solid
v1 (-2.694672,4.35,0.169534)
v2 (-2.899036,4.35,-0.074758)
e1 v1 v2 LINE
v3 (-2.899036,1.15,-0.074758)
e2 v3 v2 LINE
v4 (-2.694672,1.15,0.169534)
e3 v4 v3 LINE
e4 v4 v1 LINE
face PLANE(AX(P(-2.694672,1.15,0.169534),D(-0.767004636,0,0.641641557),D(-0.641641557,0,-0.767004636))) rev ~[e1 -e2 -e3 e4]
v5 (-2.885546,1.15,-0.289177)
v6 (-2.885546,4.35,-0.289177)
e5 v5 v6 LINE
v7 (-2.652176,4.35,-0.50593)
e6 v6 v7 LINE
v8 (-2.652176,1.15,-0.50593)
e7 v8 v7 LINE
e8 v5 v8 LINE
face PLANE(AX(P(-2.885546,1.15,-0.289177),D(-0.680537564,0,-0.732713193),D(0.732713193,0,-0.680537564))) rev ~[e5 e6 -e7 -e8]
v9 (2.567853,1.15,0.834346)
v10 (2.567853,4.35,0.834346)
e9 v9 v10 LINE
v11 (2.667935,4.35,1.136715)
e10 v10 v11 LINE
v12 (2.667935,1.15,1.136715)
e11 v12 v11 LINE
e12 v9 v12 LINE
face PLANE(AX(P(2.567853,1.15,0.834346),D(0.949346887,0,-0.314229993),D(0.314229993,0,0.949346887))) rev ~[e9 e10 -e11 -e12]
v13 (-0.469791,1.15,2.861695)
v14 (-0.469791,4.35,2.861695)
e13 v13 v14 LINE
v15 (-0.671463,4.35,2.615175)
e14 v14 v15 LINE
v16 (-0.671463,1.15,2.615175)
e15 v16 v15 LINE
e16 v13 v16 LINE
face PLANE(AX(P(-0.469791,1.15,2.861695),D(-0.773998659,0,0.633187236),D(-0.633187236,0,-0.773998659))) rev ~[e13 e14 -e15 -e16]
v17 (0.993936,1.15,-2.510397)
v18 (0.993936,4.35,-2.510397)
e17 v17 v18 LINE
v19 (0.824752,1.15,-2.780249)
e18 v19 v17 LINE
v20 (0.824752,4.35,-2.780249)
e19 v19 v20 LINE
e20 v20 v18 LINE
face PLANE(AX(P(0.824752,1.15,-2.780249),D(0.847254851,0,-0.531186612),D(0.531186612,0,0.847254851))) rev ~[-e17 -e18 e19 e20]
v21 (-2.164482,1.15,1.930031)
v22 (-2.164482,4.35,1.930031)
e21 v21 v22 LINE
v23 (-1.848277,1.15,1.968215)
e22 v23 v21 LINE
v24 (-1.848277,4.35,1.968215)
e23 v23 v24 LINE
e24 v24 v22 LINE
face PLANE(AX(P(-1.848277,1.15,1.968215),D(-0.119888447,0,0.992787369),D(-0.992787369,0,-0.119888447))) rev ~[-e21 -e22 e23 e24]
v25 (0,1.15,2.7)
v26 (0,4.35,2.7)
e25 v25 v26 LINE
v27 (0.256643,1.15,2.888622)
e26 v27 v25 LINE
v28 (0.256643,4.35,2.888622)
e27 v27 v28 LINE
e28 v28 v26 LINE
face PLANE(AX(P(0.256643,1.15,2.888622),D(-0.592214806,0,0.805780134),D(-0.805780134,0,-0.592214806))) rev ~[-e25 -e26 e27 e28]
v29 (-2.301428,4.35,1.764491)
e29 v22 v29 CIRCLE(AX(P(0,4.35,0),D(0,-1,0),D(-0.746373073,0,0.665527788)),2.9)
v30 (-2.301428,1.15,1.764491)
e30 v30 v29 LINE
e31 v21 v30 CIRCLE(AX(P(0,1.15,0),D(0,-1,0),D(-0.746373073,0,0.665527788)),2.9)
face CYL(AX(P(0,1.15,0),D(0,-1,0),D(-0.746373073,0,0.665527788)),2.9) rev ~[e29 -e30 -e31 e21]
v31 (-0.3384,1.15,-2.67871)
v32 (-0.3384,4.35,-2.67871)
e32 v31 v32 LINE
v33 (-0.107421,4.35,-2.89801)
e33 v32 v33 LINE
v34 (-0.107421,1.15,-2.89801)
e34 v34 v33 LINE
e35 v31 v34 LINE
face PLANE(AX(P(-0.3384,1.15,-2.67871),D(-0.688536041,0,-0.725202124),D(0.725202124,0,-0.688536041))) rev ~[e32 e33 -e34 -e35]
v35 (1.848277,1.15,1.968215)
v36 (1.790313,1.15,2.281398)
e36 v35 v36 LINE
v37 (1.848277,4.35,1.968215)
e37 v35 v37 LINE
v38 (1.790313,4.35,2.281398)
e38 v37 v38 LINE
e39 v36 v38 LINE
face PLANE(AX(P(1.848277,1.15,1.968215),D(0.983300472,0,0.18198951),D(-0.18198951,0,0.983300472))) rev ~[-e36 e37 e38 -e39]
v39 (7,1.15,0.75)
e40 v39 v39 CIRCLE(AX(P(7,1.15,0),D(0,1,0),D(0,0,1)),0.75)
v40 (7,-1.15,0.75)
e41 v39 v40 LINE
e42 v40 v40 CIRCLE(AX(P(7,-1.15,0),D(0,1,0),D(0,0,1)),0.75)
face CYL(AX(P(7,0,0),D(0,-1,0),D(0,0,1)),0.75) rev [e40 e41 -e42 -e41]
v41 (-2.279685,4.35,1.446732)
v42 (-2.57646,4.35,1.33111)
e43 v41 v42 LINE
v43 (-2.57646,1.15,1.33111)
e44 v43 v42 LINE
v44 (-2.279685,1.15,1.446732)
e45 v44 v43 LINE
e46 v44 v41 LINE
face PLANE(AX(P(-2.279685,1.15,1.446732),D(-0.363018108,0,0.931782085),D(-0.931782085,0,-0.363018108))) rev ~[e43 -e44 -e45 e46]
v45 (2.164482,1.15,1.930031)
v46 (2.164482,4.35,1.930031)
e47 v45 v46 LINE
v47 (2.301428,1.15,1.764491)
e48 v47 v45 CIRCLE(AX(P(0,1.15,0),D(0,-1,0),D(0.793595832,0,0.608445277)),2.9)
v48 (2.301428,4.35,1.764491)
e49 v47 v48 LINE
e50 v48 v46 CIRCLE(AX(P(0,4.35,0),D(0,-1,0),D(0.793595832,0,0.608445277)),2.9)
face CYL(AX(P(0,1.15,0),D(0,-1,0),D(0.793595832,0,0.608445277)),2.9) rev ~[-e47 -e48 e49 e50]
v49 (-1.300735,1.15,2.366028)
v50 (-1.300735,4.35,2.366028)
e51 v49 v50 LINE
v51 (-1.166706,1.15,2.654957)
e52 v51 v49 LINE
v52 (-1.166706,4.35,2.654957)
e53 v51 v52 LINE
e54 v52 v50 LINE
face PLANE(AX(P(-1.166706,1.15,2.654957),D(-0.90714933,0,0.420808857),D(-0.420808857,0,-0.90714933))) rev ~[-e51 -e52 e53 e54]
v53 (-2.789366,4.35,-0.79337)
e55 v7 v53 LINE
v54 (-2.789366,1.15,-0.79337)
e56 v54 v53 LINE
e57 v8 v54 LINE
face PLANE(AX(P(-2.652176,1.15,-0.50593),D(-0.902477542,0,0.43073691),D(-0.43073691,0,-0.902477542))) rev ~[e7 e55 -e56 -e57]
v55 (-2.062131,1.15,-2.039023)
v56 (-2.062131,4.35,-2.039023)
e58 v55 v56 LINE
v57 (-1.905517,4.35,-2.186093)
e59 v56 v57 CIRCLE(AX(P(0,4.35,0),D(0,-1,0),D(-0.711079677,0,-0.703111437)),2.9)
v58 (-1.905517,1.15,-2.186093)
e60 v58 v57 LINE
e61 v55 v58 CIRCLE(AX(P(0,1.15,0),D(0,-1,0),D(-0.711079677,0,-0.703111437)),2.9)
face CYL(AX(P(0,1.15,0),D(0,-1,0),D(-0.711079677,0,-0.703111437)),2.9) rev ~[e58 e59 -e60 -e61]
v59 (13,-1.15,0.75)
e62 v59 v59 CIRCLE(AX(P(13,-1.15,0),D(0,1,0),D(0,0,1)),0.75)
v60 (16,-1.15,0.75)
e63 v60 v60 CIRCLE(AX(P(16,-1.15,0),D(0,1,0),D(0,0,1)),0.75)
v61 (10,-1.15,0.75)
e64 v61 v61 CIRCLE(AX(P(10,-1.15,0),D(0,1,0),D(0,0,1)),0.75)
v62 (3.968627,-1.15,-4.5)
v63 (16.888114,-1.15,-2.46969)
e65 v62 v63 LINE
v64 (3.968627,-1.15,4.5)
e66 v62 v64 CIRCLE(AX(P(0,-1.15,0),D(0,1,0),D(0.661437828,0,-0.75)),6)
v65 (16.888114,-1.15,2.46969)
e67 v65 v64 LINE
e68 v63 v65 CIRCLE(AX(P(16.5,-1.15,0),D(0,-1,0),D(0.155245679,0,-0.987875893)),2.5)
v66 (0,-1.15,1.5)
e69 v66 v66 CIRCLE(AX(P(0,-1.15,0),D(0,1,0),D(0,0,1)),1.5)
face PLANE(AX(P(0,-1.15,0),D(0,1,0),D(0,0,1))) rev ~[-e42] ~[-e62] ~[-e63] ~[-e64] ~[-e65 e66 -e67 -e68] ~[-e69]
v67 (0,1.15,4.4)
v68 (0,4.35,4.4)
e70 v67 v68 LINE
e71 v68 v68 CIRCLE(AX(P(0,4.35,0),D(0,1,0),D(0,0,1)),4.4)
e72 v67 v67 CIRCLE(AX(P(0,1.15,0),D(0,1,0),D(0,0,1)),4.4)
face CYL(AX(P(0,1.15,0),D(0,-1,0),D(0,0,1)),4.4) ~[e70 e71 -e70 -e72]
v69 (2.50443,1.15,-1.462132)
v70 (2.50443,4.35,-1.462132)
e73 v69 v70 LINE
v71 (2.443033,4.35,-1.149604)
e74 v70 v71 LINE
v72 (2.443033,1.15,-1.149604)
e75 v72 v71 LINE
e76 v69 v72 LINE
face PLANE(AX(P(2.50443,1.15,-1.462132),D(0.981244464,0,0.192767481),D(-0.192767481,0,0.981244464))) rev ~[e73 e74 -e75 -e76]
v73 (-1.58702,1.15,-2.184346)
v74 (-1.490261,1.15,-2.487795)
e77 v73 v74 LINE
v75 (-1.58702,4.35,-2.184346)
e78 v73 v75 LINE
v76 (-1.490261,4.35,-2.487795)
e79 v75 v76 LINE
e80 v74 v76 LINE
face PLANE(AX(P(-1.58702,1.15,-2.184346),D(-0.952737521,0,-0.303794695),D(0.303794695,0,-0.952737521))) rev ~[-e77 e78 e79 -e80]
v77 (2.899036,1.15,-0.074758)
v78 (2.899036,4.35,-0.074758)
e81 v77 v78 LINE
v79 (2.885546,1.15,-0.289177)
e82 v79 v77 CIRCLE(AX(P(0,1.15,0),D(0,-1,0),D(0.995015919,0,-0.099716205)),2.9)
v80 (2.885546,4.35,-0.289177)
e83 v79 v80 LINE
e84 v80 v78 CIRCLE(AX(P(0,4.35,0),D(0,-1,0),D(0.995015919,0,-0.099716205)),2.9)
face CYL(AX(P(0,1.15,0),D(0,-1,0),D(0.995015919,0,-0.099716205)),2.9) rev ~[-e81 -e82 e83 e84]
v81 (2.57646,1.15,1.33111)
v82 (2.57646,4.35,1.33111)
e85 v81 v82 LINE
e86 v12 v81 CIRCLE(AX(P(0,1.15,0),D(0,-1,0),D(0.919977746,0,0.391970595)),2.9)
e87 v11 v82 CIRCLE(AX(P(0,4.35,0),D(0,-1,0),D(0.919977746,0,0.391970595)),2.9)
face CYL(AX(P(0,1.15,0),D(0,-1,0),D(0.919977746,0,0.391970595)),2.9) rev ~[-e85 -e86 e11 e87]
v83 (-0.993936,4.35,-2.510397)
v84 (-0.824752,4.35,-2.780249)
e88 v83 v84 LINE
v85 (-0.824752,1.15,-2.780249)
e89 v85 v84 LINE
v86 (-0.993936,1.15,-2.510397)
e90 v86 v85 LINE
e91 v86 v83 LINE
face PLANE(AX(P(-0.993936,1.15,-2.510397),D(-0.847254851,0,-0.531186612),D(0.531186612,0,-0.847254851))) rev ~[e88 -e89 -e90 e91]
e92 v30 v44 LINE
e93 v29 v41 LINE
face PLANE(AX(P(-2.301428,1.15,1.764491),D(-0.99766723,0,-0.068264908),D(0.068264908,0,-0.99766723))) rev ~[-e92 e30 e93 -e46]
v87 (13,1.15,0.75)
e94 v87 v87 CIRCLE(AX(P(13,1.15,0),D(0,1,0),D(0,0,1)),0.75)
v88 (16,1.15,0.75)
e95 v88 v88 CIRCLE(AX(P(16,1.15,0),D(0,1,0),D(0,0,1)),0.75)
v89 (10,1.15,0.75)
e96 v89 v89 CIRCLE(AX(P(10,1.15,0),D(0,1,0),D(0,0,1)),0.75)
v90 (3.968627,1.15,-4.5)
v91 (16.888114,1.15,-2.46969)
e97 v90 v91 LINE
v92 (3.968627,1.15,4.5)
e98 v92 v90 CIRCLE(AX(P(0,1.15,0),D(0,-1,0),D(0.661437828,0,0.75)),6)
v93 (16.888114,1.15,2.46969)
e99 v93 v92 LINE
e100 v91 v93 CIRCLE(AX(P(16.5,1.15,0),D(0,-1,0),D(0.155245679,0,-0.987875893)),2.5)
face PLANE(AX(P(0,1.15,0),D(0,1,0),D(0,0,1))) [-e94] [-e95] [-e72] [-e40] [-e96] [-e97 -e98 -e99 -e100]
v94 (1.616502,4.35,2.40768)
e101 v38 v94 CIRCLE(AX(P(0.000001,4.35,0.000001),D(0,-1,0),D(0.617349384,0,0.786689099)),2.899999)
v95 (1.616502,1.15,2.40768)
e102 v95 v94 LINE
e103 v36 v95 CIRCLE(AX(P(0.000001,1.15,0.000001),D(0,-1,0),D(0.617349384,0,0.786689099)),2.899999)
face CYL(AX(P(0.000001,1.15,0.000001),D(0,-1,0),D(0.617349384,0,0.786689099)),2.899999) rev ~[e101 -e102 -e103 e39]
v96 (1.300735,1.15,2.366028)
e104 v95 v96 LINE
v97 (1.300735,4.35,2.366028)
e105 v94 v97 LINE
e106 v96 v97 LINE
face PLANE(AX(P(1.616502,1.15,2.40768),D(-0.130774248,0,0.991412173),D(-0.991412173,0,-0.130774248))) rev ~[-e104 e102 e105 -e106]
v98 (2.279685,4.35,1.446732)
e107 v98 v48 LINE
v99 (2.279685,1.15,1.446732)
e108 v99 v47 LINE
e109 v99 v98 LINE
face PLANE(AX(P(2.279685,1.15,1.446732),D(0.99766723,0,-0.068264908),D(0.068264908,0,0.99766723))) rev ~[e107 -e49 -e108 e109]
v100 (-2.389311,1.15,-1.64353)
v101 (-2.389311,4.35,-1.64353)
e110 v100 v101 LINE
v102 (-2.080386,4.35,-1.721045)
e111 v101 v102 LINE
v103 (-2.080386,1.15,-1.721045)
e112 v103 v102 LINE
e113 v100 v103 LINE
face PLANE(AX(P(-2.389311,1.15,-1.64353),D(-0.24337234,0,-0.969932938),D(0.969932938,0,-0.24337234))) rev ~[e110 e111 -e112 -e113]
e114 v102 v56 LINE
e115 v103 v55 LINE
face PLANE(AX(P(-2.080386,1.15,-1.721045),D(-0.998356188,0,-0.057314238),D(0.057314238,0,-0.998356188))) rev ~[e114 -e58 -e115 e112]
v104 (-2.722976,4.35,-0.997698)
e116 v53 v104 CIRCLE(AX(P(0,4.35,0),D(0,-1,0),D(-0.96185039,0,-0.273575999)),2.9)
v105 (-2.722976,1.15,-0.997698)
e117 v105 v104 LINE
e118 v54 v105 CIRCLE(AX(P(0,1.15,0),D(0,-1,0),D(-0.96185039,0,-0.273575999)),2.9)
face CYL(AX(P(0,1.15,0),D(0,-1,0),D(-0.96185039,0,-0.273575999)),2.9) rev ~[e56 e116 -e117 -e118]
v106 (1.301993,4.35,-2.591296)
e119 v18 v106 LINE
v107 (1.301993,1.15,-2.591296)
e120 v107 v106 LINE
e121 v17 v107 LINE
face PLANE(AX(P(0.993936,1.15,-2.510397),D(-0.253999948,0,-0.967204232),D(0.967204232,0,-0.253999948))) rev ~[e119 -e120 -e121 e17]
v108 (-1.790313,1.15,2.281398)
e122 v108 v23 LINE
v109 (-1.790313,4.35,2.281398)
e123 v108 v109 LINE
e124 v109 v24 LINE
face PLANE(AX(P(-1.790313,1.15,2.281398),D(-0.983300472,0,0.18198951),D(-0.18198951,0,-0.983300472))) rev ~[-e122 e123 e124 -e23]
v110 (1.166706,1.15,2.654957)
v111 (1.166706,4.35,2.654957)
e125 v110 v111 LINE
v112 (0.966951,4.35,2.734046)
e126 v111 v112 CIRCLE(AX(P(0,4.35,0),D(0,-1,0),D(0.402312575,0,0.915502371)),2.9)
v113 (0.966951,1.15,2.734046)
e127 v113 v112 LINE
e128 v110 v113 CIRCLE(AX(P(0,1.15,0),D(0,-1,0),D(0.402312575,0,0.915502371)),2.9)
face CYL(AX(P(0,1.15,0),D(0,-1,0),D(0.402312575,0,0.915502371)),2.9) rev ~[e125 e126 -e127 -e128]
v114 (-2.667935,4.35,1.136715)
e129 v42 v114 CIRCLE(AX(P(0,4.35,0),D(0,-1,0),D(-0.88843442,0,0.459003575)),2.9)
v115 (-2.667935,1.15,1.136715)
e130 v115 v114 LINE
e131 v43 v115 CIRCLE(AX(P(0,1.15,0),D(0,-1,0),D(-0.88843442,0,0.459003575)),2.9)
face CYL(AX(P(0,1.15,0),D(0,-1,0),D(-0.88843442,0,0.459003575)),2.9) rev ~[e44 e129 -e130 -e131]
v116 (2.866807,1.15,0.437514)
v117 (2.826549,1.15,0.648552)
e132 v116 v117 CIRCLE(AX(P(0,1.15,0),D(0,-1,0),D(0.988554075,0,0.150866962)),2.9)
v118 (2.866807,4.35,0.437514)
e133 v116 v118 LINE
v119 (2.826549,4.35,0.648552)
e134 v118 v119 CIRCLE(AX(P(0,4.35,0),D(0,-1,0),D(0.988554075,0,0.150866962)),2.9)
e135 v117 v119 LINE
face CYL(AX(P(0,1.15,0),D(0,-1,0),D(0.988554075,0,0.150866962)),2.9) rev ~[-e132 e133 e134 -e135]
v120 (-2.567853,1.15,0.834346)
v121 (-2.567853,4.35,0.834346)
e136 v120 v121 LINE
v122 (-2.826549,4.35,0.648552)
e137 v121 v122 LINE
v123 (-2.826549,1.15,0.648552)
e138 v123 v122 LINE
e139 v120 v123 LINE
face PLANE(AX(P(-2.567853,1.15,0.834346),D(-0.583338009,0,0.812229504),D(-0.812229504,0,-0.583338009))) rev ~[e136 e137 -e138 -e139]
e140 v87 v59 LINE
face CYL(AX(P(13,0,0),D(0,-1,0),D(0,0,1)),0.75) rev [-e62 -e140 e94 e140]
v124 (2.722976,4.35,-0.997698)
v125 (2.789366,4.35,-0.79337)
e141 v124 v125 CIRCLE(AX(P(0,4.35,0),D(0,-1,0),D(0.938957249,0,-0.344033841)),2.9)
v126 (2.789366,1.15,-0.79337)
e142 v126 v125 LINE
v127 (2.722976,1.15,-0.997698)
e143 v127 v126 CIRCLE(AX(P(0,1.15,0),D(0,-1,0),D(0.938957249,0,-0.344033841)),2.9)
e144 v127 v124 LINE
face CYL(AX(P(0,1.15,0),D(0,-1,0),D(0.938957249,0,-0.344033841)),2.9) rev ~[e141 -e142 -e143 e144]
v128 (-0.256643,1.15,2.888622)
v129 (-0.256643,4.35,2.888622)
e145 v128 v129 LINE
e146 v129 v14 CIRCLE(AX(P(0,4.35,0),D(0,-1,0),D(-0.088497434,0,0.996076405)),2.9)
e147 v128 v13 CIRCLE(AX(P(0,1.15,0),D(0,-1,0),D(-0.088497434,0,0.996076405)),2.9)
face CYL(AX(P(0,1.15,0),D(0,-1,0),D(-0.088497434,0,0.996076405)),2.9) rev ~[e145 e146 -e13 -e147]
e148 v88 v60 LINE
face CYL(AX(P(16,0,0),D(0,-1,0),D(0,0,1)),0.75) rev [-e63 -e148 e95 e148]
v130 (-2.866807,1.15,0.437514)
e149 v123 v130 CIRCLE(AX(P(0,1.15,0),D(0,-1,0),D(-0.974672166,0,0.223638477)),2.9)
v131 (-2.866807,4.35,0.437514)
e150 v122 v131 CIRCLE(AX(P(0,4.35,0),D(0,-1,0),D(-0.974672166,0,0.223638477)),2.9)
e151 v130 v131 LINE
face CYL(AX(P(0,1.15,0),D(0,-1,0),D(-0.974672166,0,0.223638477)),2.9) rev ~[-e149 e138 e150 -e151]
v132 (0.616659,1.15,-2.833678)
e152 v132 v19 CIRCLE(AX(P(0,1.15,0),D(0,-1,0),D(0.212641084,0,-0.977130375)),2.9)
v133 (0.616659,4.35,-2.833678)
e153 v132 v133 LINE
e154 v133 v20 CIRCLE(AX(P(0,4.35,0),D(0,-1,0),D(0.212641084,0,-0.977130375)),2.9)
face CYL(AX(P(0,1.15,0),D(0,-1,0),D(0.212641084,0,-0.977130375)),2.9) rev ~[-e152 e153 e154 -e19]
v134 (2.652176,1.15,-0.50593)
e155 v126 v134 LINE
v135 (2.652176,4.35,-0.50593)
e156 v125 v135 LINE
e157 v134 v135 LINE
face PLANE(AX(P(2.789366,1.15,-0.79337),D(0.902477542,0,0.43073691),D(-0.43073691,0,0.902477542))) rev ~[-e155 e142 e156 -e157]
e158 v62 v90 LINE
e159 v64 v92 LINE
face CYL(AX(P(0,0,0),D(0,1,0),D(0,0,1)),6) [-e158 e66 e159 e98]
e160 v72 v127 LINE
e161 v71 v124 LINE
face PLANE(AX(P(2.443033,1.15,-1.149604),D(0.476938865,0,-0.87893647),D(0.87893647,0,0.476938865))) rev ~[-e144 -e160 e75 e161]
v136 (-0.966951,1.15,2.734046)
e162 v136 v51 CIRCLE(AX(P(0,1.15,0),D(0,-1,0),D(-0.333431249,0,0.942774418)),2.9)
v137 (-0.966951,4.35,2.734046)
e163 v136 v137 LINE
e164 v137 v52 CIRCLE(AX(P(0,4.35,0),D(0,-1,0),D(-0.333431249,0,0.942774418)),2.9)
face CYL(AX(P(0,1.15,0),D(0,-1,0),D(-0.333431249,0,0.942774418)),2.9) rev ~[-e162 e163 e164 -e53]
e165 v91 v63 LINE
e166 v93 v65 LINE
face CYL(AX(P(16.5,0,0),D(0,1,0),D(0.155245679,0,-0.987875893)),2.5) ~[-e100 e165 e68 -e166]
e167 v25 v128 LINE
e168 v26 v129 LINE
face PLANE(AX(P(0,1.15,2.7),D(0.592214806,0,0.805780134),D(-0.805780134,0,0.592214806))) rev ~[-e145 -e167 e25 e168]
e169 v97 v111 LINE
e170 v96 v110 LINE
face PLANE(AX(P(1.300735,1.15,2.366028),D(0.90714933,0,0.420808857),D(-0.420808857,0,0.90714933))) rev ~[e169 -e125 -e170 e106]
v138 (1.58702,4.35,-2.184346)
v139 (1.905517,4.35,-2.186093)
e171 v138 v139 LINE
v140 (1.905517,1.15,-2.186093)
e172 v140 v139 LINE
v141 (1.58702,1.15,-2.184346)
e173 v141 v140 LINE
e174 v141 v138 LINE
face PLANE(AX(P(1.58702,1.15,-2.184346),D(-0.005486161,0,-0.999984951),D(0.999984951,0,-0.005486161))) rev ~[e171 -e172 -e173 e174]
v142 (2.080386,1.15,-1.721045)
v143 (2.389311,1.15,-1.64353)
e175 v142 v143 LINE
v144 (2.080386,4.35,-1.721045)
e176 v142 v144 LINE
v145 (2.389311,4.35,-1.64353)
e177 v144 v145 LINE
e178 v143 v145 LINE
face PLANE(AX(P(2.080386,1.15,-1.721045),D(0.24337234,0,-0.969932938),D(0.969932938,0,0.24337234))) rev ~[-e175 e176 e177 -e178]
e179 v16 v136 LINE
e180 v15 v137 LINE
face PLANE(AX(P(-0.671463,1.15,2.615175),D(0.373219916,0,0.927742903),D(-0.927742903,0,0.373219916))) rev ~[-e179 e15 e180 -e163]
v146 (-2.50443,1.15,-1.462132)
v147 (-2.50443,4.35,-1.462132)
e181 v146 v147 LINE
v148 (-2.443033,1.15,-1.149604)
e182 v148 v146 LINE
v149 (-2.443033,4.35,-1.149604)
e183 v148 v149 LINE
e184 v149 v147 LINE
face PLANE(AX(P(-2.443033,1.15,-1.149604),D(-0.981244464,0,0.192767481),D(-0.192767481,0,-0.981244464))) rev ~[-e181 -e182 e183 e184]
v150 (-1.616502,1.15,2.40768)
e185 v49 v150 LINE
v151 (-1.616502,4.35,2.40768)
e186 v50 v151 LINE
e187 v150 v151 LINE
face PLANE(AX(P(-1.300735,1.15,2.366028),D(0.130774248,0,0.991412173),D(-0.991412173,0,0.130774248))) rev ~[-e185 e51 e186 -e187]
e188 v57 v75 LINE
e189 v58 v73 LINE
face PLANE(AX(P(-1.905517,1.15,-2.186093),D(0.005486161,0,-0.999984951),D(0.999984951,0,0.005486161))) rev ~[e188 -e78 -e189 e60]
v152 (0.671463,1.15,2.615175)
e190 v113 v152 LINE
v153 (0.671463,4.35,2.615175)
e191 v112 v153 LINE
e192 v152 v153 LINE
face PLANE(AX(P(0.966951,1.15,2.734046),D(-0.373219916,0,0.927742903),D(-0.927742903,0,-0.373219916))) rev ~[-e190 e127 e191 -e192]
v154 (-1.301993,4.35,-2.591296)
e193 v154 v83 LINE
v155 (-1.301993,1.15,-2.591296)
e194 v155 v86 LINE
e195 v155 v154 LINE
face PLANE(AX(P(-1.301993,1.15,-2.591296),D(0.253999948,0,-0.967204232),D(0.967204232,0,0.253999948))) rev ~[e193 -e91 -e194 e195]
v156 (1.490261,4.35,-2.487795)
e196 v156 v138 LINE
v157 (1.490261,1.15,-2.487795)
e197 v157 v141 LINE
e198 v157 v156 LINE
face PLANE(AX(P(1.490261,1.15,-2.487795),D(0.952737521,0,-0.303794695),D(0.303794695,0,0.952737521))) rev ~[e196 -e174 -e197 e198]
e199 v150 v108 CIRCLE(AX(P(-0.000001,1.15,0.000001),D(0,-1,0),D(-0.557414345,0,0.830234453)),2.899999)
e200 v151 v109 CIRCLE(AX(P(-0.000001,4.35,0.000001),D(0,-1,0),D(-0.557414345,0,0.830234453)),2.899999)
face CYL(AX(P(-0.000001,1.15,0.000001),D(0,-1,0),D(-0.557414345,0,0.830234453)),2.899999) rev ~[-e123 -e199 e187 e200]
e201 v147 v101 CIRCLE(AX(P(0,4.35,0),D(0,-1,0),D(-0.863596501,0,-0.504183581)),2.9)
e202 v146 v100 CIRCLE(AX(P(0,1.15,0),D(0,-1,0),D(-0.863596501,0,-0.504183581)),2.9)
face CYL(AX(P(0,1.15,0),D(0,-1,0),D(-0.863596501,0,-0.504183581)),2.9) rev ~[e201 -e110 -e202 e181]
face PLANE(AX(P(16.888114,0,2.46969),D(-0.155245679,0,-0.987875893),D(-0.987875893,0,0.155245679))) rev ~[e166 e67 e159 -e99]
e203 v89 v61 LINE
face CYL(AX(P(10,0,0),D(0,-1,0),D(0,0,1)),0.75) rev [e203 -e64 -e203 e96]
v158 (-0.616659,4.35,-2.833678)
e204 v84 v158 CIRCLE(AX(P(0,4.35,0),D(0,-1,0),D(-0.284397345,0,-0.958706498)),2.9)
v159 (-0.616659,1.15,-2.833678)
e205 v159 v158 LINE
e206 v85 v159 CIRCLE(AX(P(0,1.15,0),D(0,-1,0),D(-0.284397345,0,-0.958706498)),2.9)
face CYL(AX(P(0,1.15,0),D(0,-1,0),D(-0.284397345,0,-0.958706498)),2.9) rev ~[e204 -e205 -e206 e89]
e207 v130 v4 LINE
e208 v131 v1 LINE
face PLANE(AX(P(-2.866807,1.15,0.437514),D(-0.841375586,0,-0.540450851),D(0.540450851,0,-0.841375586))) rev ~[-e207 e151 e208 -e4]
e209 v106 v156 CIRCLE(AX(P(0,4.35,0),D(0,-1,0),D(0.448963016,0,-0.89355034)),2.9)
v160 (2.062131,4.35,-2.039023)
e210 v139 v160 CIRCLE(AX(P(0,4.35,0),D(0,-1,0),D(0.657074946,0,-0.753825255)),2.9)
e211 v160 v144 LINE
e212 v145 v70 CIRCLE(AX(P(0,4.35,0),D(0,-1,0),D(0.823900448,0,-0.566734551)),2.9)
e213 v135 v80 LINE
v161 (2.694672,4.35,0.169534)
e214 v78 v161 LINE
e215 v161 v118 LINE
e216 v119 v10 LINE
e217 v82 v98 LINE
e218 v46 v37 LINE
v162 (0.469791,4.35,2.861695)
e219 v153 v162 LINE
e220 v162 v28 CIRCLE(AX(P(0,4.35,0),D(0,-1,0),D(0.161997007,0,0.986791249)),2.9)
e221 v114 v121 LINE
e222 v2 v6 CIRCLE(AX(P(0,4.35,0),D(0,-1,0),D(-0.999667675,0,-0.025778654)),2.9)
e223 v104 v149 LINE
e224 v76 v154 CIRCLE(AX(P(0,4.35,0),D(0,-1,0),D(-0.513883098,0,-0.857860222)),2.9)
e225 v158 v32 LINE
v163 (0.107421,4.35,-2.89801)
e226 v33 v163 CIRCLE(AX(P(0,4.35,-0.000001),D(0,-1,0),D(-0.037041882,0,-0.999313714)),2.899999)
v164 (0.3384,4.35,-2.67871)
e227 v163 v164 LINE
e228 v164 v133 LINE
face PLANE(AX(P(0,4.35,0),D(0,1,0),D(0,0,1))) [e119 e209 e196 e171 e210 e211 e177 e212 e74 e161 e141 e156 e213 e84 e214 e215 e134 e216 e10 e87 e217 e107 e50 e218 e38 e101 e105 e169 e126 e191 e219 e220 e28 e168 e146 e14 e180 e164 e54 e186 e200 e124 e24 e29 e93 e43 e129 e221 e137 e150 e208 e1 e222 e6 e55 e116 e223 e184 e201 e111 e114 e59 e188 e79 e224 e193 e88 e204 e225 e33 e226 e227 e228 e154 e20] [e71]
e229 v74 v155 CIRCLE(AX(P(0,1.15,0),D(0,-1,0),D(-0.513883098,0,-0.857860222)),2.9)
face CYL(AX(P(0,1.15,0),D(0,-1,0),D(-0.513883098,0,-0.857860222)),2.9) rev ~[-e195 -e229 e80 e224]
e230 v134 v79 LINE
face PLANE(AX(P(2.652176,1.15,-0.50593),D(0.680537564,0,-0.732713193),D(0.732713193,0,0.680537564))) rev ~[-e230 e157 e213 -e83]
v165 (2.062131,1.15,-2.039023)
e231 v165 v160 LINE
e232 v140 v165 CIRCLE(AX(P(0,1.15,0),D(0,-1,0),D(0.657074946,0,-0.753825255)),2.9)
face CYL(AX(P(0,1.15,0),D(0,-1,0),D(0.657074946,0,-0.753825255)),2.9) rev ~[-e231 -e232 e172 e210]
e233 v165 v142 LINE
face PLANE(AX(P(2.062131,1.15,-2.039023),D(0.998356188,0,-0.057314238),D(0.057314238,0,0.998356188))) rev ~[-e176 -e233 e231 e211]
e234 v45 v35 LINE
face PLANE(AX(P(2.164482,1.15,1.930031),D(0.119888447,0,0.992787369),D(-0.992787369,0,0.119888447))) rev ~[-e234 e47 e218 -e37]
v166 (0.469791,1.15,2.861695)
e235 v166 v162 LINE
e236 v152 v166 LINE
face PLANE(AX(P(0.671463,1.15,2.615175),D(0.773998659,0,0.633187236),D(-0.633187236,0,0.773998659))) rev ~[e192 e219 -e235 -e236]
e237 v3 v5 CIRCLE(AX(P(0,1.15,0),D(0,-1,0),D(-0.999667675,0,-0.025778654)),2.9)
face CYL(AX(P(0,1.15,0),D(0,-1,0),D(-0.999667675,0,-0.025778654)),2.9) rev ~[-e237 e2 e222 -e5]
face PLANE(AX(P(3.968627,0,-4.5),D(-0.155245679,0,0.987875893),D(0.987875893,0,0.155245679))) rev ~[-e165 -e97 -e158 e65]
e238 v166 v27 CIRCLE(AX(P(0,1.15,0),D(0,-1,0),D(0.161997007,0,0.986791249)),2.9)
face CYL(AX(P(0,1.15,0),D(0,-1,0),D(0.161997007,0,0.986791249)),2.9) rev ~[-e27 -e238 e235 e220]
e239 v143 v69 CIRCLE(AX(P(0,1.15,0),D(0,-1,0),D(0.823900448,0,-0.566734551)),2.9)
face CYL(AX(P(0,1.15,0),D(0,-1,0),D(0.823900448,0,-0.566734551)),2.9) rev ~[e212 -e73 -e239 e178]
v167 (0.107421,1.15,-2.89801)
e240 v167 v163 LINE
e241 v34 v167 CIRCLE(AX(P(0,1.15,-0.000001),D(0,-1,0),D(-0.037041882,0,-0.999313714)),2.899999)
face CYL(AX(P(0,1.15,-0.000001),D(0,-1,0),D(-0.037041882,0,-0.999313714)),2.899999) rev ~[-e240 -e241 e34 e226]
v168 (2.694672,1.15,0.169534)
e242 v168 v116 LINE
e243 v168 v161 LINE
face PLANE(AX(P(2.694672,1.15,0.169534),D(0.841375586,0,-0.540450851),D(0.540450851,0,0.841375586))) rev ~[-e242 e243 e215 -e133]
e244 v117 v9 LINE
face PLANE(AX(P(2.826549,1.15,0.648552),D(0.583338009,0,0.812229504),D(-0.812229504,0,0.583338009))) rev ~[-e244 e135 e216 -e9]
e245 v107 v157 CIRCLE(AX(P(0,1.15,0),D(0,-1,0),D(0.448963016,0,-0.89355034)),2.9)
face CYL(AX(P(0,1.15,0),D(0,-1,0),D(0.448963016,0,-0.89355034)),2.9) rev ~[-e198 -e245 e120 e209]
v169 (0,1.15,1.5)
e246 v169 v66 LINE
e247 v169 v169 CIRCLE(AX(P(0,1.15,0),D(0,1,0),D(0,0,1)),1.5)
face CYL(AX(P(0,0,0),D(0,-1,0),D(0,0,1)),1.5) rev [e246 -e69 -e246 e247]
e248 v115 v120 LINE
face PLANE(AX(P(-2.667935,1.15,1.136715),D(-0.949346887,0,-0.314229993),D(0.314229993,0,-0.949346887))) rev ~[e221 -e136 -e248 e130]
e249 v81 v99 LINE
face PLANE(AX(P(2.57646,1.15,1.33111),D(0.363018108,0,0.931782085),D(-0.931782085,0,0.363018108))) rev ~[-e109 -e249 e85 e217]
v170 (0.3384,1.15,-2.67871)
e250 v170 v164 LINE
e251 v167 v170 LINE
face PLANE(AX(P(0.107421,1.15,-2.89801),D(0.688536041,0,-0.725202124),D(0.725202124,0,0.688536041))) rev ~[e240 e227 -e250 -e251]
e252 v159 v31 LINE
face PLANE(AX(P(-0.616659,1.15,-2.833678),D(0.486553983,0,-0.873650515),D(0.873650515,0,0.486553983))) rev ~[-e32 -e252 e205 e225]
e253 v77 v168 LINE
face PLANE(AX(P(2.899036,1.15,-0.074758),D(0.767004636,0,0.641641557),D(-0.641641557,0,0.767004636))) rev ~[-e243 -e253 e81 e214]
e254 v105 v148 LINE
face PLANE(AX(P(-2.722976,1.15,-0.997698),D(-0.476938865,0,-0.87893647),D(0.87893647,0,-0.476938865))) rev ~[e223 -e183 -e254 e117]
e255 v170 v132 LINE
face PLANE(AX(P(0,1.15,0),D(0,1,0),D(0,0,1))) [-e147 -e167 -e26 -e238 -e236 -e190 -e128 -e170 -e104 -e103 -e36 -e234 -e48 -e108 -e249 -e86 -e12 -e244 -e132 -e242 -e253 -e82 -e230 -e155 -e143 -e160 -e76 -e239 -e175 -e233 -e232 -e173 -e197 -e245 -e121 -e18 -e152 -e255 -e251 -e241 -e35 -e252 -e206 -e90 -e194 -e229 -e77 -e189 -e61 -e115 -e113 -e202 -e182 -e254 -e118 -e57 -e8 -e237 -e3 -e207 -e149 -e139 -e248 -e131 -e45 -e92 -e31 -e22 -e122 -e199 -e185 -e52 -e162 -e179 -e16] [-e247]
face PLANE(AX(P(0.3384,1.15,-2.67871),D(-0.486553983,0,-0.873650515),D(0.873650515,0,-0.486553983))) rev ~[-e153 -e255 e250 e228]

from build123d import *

# Parameters (mm, degrees)
SKETCH2_R           = 6
SKETCH2_R_2         = 1.5
BOSS_EXTRUDE1_DEPTH = 1.15
SKETCH3_R           = 4.4
BOSS_EXTRUDE2_DEPTH = 3.2
SKETCH4_R           = 0.75
BOSS_EXTRUDE3_DEPTH = 1.15


with BuildPart() as part:
    # Sketch2 → Boss-Extrude1 (new, symmetric)
    with BuildSketch(Plane(origin=(0, 0, 0), x_dir=(1, 0, 0), z_dir=(0, 1, 0))):
        with Locations(Location((0, 0, 0), (0, 0, 270))):
            Circle(SKETCH2_R)
        with Locations(Location((0, 0, 0), (0, 0, 270))):
            Circle(SKETCH2_R_2, mode=Mode.SUBTRACT)
    extrude(amount=BOSS_EXTRUDE1_DEPTH, both=True)

    # Sketch3 → Boss-Extrude2 (add)
    with BuildSketch(Plane(origin=(0, 1.15, 0), x_dir=(1, 0, 0), z_dir=(0, 1, 0))):
        with Locations(Location((0, 0, 0), (0, 0, 270))):
            Circle(SKETCH3_R)
        with BuildLine():
            Line((0.107421435, 2.898009771), (0.338399731, 2.678709694))
            Line((0.338399731, 2.678709694), (0.61665913, 2.83367809))
            ThreePointArc((0.61665913, 2.83367809), (0.721200673, 2.808891167), (0.824752316, 2.780248841))
            Line((0.824752316, 2.780248841), (0.993936292, 2.510396512))
            Line((0.993936292, 2.510396512), (1.301992734, 2.591295993))
            ThreePointArc((1.301992734, 2.591295993), (1.397085655, 2.541289372), (1.490260976, 2.48779465))
            Line((1.490260976, 2.48779465), (1.587020181, 2.184345885))
            Line((1.587020181, 2.184345885), (1.905517346, 2.186093238))
            ThreePointArc((1.905517346, 2.186093238), (1.985186607, 2.11400902), (2.062131058, 2.039023173))
            Line((2.062131058, 2.039023173), (2.080385755, 1.721044772))
            Line((2.080385755, 1.721044772), (2.389311295, 1.643530205))
            ThreePointArc((2.389311295, 1.643530205), (2.448550984, 1.553897705), (2.504429862, 1.46213237))
            Line((2.504429862, 1.46213237), (2.443033042, 1.149604087))
            Line((2.443033042, 1.149604087), (2.722976028, 0.997698125))
            ThreePointArc((2.722976028, 0.997698125), (2.758063897, 0.896149284), (2.789366126, 0.793370413))
            Line((2.789366126, 0.793370413), (2.652175577, 0.505929549))
            Line((2.652175577, 0.505929549), (2.885546163, 0.289177003))
            ThreePointArc((2.885546163, 0.289177003), (2.894277512, 0.182092507), (2.899036259, 0.074758075))
            Line((2.899036259, 0.074758075), (2.694672167, -0.169534403))
            Line((2.694672167, -0.169534403), (2.866806821, -0.437514174))
            ThreePointArc((2.866806821, -0.437514174), (2.848633027, -0.543405812), (2.826549281, -0.648551587))
            Line((2.826549281, -0.648551587), (2.567852594, -0.834345885))
            Line((2.567852594, -0.834345885), (2.667935462, -1.136714727))
            ThreePointArc((2.667935462, -1.136714727), (2.623998452, -1.234759946), (2.576459817, -1.331110368))
            Line((2.576459817, -1.331110368), (2.279685399, -1.446732346))
            Line((2.279685399, -1.446732346), (2.301427906, -1.764491312))
            ThreePointArc((2.301427906, -1.764491312), (2.234488404, -1.84852957), (2.164481907, -1.930030589))
            Line((2.164481907, -1.930030589), (1.848277186, -1.968215294))
            Line((1.848277186, -1.968215294), (1.790313171, -2.281398419))
            ThreePointArc((1.790313171, -2.281398419), (1.704577232, -2.346149284), (1.616501638, -2.40767989))
            Line((1.616501638, -2.40767989), (1.30073492, -2.366028036))
            Line((1.30073492, -2.366028036), (1.166706475, -2.654956874))
            ThreePointArc((1.166706475, -2.654956874), (1.067561203, -2.696351809), (0.966950626, -2.734045809))
            Line((0.966950626, -2.734045809), (0.671462695, -2.615174535))
            Line((0.671462695, -2.615174535), (0.469791321, -2.861694623))
            ThreePointArc((0.469791321, -2.861694623), (0.363466377, -2.877132634), (0.25664255, -2.888621575))
            Line((0.25664255, -2.888621575), (0, -2.7))
            Line((0, -2.7), (-0.25664255, -2.888621575))
            ThreePointArc((-0.25664255, -2.888621575), (-0.363466377, -2.877132634), (-0.469791321, -2.861694623))
            Line((-0.469791321, -2.861694623), (-0.671462695, -2.615174535))
            Line((-0.671462695, -2.615174535), (-0.966950626, -2.734045809))
            ThreePointArc((-0.966950626, -2.734045809), (-1.067561203, -2.696351809), (-1.166706475, -2.654956874))
            Line((-1.166706475, -2.654956874), (-1.30073492, -2.366028036))
            Line((-1.30073492, -2.366028036), (-1.616501638, -2.40767989))
            ThreePointArc((-1.616501638, -2.40767989), (-1.704577232, -2.346149284), (-1.790313171, -2.281398419))
            Line((-1.790313171, -2.281398419), (-1.848277186, -1.968215294))
            Line((-1.848277186, -1.968215294), (-2.164481907, -1.930030589))
            ThreePointArc((-2.164481907, -1.930030589), (-2.234488404, -1.84852957), (-2.301427906, -1.764491312))
            Line((-2.301427906, -1.764491312), (-2.279685399, -1.446732346))
            Line((-2.279685399, -1.446732346), (-2.576459817, -1.331110368))
            ThreePointArc((-2.576459817, -1.331110368), (-2.623998452, -1.234759946), (-2.667935462, -1.136714727))
            Line((-2.667935462, -1.136714727), (-2.567852594, -0.834345885))
            Line((-2.567852594, -0.834345885), (-2.826549281, -0.648551587))
            ThreePointArc((-2.826549281, -0.648551587), (-2.848633027, -0.543405812), (-2.866806821, -0.437514174))
            Line((-2.866806821, -0.437514174), (-2.694672167, -0.169534403))
            Line((-2.694672167, -0.169534403), (-2.899036259, 0.074758075))
            ThreePointArc((-2.899036259, 0.074758075), (-2.894277512, 0.182092507), (-2.885546163, 0.289177003))
            Line((-2.885546163, 0.289177003), (-2.652175577, 0.505929549))
            Line((-2.652175577, 0.505929549), (-2.789366126, 0.793370413))
            ThreePointArc((-2.789366126, 0.793370413), (-2.758063897, 0.896149284), (-2.722976028, 0.997698125))
            Line((-2.722976028, 0.997698125), (-2.443033042, 1.149604087))
            Line((-2.443033042, 1.149604087), (-2.504429862, 1.46213237))
            ThreePointArc((-2.504429862, 1.46213237), (-2.448550984, 1.553897705), (-2.389311295, 1.643530205))
            Line((-2.389311295, 1.643530205), (-2.080385755, 1.721044772))
            Line((-2.080385755, 1.721044772), (-2.062131058, 2.039023173))
            ThreePointArc((-2.062131058, 2.039023173), (-1.985186607, 2.11400902), (-1.905517346, 2.186093238))
            Line((-1.905517346, 2.186093238), (-1.587020181, 2.184345885))
            Line((-1.587020181, 2.184345885), (-1.490260976, 2.48779465))
            ThreePointArc((-1.490260976, 2.48779465), (-1.397085655, 2.541289372), (-1.301992734, 2.591295993))
            Line((-1.301992734, 2.591295993), (-0.993936292, 2.510396512))
            Line((-0.993936292, 2.510396512), (-0.824752316, 2.780248841))
            ThreePointArc((-0.824752316, 2.780248841), (-0.721200673, 2.808891167), (-0.61665913, 2.83367809))
            Line((-0.61665913, 2.83367809), (-0.338399731, 2.678709694))
            Line((-0.338399731, 2.678709694), (-0.107421435, 2.898009771))
            ThreePointArc((-0.107421435, 2.898009771), (0, 2.9), (0.107421435, 2.898009771))
        make_face(mode=Mode.SUBTRACT)
    extrude(amount=BOSS_EXTRUDE2_DEPTH)

    # Sketch4 → Boss-Extrude3 (add, symmetric)
    with BuildSketch(Plane(origin=(0, 0, 0), x_dir=(1, 0, 0), z_dir=(0, 1, 0))):
        with BuildLine():
            Line((3.968626967, 4.5), (16.888114198, 2.469689731))
            ThreePointArc((16.888114198, 2.469689731), (19, 0), (16.888114198, -2.469689731))
            Line((16.888114198, -2.469689731), (3.968626967, -4.5))
            ThreePointArc((3.968626967, -4.5), (6, 0), (3.968626967, 4.5))
        make_face()
        with Locations(Location((16, 0, 0), (0, 0, 270))):
            Circle(SKETCH4_R, mode=Mode.SUBTRACT)
        with Locations(Location((13, 0, 0), (0, 0, 270))):
            Circle(SKETCH4_R, mode=Mode.SUBTRACT)
        with Locations(Location((10, 0, 0), (0, 0, 270))):
            Circle(SKETCH4_R, mode=Mode.SUBTRACT)
        with Locations(Location((7, 0, 0), (0, 0, 270))):
            Circle(SKETCH4_R, mode=Mode.SUBTRACT)
    extrude(amount=BOSS_EXTRUDE3_DEPTH, both=True)


solid = part.part
